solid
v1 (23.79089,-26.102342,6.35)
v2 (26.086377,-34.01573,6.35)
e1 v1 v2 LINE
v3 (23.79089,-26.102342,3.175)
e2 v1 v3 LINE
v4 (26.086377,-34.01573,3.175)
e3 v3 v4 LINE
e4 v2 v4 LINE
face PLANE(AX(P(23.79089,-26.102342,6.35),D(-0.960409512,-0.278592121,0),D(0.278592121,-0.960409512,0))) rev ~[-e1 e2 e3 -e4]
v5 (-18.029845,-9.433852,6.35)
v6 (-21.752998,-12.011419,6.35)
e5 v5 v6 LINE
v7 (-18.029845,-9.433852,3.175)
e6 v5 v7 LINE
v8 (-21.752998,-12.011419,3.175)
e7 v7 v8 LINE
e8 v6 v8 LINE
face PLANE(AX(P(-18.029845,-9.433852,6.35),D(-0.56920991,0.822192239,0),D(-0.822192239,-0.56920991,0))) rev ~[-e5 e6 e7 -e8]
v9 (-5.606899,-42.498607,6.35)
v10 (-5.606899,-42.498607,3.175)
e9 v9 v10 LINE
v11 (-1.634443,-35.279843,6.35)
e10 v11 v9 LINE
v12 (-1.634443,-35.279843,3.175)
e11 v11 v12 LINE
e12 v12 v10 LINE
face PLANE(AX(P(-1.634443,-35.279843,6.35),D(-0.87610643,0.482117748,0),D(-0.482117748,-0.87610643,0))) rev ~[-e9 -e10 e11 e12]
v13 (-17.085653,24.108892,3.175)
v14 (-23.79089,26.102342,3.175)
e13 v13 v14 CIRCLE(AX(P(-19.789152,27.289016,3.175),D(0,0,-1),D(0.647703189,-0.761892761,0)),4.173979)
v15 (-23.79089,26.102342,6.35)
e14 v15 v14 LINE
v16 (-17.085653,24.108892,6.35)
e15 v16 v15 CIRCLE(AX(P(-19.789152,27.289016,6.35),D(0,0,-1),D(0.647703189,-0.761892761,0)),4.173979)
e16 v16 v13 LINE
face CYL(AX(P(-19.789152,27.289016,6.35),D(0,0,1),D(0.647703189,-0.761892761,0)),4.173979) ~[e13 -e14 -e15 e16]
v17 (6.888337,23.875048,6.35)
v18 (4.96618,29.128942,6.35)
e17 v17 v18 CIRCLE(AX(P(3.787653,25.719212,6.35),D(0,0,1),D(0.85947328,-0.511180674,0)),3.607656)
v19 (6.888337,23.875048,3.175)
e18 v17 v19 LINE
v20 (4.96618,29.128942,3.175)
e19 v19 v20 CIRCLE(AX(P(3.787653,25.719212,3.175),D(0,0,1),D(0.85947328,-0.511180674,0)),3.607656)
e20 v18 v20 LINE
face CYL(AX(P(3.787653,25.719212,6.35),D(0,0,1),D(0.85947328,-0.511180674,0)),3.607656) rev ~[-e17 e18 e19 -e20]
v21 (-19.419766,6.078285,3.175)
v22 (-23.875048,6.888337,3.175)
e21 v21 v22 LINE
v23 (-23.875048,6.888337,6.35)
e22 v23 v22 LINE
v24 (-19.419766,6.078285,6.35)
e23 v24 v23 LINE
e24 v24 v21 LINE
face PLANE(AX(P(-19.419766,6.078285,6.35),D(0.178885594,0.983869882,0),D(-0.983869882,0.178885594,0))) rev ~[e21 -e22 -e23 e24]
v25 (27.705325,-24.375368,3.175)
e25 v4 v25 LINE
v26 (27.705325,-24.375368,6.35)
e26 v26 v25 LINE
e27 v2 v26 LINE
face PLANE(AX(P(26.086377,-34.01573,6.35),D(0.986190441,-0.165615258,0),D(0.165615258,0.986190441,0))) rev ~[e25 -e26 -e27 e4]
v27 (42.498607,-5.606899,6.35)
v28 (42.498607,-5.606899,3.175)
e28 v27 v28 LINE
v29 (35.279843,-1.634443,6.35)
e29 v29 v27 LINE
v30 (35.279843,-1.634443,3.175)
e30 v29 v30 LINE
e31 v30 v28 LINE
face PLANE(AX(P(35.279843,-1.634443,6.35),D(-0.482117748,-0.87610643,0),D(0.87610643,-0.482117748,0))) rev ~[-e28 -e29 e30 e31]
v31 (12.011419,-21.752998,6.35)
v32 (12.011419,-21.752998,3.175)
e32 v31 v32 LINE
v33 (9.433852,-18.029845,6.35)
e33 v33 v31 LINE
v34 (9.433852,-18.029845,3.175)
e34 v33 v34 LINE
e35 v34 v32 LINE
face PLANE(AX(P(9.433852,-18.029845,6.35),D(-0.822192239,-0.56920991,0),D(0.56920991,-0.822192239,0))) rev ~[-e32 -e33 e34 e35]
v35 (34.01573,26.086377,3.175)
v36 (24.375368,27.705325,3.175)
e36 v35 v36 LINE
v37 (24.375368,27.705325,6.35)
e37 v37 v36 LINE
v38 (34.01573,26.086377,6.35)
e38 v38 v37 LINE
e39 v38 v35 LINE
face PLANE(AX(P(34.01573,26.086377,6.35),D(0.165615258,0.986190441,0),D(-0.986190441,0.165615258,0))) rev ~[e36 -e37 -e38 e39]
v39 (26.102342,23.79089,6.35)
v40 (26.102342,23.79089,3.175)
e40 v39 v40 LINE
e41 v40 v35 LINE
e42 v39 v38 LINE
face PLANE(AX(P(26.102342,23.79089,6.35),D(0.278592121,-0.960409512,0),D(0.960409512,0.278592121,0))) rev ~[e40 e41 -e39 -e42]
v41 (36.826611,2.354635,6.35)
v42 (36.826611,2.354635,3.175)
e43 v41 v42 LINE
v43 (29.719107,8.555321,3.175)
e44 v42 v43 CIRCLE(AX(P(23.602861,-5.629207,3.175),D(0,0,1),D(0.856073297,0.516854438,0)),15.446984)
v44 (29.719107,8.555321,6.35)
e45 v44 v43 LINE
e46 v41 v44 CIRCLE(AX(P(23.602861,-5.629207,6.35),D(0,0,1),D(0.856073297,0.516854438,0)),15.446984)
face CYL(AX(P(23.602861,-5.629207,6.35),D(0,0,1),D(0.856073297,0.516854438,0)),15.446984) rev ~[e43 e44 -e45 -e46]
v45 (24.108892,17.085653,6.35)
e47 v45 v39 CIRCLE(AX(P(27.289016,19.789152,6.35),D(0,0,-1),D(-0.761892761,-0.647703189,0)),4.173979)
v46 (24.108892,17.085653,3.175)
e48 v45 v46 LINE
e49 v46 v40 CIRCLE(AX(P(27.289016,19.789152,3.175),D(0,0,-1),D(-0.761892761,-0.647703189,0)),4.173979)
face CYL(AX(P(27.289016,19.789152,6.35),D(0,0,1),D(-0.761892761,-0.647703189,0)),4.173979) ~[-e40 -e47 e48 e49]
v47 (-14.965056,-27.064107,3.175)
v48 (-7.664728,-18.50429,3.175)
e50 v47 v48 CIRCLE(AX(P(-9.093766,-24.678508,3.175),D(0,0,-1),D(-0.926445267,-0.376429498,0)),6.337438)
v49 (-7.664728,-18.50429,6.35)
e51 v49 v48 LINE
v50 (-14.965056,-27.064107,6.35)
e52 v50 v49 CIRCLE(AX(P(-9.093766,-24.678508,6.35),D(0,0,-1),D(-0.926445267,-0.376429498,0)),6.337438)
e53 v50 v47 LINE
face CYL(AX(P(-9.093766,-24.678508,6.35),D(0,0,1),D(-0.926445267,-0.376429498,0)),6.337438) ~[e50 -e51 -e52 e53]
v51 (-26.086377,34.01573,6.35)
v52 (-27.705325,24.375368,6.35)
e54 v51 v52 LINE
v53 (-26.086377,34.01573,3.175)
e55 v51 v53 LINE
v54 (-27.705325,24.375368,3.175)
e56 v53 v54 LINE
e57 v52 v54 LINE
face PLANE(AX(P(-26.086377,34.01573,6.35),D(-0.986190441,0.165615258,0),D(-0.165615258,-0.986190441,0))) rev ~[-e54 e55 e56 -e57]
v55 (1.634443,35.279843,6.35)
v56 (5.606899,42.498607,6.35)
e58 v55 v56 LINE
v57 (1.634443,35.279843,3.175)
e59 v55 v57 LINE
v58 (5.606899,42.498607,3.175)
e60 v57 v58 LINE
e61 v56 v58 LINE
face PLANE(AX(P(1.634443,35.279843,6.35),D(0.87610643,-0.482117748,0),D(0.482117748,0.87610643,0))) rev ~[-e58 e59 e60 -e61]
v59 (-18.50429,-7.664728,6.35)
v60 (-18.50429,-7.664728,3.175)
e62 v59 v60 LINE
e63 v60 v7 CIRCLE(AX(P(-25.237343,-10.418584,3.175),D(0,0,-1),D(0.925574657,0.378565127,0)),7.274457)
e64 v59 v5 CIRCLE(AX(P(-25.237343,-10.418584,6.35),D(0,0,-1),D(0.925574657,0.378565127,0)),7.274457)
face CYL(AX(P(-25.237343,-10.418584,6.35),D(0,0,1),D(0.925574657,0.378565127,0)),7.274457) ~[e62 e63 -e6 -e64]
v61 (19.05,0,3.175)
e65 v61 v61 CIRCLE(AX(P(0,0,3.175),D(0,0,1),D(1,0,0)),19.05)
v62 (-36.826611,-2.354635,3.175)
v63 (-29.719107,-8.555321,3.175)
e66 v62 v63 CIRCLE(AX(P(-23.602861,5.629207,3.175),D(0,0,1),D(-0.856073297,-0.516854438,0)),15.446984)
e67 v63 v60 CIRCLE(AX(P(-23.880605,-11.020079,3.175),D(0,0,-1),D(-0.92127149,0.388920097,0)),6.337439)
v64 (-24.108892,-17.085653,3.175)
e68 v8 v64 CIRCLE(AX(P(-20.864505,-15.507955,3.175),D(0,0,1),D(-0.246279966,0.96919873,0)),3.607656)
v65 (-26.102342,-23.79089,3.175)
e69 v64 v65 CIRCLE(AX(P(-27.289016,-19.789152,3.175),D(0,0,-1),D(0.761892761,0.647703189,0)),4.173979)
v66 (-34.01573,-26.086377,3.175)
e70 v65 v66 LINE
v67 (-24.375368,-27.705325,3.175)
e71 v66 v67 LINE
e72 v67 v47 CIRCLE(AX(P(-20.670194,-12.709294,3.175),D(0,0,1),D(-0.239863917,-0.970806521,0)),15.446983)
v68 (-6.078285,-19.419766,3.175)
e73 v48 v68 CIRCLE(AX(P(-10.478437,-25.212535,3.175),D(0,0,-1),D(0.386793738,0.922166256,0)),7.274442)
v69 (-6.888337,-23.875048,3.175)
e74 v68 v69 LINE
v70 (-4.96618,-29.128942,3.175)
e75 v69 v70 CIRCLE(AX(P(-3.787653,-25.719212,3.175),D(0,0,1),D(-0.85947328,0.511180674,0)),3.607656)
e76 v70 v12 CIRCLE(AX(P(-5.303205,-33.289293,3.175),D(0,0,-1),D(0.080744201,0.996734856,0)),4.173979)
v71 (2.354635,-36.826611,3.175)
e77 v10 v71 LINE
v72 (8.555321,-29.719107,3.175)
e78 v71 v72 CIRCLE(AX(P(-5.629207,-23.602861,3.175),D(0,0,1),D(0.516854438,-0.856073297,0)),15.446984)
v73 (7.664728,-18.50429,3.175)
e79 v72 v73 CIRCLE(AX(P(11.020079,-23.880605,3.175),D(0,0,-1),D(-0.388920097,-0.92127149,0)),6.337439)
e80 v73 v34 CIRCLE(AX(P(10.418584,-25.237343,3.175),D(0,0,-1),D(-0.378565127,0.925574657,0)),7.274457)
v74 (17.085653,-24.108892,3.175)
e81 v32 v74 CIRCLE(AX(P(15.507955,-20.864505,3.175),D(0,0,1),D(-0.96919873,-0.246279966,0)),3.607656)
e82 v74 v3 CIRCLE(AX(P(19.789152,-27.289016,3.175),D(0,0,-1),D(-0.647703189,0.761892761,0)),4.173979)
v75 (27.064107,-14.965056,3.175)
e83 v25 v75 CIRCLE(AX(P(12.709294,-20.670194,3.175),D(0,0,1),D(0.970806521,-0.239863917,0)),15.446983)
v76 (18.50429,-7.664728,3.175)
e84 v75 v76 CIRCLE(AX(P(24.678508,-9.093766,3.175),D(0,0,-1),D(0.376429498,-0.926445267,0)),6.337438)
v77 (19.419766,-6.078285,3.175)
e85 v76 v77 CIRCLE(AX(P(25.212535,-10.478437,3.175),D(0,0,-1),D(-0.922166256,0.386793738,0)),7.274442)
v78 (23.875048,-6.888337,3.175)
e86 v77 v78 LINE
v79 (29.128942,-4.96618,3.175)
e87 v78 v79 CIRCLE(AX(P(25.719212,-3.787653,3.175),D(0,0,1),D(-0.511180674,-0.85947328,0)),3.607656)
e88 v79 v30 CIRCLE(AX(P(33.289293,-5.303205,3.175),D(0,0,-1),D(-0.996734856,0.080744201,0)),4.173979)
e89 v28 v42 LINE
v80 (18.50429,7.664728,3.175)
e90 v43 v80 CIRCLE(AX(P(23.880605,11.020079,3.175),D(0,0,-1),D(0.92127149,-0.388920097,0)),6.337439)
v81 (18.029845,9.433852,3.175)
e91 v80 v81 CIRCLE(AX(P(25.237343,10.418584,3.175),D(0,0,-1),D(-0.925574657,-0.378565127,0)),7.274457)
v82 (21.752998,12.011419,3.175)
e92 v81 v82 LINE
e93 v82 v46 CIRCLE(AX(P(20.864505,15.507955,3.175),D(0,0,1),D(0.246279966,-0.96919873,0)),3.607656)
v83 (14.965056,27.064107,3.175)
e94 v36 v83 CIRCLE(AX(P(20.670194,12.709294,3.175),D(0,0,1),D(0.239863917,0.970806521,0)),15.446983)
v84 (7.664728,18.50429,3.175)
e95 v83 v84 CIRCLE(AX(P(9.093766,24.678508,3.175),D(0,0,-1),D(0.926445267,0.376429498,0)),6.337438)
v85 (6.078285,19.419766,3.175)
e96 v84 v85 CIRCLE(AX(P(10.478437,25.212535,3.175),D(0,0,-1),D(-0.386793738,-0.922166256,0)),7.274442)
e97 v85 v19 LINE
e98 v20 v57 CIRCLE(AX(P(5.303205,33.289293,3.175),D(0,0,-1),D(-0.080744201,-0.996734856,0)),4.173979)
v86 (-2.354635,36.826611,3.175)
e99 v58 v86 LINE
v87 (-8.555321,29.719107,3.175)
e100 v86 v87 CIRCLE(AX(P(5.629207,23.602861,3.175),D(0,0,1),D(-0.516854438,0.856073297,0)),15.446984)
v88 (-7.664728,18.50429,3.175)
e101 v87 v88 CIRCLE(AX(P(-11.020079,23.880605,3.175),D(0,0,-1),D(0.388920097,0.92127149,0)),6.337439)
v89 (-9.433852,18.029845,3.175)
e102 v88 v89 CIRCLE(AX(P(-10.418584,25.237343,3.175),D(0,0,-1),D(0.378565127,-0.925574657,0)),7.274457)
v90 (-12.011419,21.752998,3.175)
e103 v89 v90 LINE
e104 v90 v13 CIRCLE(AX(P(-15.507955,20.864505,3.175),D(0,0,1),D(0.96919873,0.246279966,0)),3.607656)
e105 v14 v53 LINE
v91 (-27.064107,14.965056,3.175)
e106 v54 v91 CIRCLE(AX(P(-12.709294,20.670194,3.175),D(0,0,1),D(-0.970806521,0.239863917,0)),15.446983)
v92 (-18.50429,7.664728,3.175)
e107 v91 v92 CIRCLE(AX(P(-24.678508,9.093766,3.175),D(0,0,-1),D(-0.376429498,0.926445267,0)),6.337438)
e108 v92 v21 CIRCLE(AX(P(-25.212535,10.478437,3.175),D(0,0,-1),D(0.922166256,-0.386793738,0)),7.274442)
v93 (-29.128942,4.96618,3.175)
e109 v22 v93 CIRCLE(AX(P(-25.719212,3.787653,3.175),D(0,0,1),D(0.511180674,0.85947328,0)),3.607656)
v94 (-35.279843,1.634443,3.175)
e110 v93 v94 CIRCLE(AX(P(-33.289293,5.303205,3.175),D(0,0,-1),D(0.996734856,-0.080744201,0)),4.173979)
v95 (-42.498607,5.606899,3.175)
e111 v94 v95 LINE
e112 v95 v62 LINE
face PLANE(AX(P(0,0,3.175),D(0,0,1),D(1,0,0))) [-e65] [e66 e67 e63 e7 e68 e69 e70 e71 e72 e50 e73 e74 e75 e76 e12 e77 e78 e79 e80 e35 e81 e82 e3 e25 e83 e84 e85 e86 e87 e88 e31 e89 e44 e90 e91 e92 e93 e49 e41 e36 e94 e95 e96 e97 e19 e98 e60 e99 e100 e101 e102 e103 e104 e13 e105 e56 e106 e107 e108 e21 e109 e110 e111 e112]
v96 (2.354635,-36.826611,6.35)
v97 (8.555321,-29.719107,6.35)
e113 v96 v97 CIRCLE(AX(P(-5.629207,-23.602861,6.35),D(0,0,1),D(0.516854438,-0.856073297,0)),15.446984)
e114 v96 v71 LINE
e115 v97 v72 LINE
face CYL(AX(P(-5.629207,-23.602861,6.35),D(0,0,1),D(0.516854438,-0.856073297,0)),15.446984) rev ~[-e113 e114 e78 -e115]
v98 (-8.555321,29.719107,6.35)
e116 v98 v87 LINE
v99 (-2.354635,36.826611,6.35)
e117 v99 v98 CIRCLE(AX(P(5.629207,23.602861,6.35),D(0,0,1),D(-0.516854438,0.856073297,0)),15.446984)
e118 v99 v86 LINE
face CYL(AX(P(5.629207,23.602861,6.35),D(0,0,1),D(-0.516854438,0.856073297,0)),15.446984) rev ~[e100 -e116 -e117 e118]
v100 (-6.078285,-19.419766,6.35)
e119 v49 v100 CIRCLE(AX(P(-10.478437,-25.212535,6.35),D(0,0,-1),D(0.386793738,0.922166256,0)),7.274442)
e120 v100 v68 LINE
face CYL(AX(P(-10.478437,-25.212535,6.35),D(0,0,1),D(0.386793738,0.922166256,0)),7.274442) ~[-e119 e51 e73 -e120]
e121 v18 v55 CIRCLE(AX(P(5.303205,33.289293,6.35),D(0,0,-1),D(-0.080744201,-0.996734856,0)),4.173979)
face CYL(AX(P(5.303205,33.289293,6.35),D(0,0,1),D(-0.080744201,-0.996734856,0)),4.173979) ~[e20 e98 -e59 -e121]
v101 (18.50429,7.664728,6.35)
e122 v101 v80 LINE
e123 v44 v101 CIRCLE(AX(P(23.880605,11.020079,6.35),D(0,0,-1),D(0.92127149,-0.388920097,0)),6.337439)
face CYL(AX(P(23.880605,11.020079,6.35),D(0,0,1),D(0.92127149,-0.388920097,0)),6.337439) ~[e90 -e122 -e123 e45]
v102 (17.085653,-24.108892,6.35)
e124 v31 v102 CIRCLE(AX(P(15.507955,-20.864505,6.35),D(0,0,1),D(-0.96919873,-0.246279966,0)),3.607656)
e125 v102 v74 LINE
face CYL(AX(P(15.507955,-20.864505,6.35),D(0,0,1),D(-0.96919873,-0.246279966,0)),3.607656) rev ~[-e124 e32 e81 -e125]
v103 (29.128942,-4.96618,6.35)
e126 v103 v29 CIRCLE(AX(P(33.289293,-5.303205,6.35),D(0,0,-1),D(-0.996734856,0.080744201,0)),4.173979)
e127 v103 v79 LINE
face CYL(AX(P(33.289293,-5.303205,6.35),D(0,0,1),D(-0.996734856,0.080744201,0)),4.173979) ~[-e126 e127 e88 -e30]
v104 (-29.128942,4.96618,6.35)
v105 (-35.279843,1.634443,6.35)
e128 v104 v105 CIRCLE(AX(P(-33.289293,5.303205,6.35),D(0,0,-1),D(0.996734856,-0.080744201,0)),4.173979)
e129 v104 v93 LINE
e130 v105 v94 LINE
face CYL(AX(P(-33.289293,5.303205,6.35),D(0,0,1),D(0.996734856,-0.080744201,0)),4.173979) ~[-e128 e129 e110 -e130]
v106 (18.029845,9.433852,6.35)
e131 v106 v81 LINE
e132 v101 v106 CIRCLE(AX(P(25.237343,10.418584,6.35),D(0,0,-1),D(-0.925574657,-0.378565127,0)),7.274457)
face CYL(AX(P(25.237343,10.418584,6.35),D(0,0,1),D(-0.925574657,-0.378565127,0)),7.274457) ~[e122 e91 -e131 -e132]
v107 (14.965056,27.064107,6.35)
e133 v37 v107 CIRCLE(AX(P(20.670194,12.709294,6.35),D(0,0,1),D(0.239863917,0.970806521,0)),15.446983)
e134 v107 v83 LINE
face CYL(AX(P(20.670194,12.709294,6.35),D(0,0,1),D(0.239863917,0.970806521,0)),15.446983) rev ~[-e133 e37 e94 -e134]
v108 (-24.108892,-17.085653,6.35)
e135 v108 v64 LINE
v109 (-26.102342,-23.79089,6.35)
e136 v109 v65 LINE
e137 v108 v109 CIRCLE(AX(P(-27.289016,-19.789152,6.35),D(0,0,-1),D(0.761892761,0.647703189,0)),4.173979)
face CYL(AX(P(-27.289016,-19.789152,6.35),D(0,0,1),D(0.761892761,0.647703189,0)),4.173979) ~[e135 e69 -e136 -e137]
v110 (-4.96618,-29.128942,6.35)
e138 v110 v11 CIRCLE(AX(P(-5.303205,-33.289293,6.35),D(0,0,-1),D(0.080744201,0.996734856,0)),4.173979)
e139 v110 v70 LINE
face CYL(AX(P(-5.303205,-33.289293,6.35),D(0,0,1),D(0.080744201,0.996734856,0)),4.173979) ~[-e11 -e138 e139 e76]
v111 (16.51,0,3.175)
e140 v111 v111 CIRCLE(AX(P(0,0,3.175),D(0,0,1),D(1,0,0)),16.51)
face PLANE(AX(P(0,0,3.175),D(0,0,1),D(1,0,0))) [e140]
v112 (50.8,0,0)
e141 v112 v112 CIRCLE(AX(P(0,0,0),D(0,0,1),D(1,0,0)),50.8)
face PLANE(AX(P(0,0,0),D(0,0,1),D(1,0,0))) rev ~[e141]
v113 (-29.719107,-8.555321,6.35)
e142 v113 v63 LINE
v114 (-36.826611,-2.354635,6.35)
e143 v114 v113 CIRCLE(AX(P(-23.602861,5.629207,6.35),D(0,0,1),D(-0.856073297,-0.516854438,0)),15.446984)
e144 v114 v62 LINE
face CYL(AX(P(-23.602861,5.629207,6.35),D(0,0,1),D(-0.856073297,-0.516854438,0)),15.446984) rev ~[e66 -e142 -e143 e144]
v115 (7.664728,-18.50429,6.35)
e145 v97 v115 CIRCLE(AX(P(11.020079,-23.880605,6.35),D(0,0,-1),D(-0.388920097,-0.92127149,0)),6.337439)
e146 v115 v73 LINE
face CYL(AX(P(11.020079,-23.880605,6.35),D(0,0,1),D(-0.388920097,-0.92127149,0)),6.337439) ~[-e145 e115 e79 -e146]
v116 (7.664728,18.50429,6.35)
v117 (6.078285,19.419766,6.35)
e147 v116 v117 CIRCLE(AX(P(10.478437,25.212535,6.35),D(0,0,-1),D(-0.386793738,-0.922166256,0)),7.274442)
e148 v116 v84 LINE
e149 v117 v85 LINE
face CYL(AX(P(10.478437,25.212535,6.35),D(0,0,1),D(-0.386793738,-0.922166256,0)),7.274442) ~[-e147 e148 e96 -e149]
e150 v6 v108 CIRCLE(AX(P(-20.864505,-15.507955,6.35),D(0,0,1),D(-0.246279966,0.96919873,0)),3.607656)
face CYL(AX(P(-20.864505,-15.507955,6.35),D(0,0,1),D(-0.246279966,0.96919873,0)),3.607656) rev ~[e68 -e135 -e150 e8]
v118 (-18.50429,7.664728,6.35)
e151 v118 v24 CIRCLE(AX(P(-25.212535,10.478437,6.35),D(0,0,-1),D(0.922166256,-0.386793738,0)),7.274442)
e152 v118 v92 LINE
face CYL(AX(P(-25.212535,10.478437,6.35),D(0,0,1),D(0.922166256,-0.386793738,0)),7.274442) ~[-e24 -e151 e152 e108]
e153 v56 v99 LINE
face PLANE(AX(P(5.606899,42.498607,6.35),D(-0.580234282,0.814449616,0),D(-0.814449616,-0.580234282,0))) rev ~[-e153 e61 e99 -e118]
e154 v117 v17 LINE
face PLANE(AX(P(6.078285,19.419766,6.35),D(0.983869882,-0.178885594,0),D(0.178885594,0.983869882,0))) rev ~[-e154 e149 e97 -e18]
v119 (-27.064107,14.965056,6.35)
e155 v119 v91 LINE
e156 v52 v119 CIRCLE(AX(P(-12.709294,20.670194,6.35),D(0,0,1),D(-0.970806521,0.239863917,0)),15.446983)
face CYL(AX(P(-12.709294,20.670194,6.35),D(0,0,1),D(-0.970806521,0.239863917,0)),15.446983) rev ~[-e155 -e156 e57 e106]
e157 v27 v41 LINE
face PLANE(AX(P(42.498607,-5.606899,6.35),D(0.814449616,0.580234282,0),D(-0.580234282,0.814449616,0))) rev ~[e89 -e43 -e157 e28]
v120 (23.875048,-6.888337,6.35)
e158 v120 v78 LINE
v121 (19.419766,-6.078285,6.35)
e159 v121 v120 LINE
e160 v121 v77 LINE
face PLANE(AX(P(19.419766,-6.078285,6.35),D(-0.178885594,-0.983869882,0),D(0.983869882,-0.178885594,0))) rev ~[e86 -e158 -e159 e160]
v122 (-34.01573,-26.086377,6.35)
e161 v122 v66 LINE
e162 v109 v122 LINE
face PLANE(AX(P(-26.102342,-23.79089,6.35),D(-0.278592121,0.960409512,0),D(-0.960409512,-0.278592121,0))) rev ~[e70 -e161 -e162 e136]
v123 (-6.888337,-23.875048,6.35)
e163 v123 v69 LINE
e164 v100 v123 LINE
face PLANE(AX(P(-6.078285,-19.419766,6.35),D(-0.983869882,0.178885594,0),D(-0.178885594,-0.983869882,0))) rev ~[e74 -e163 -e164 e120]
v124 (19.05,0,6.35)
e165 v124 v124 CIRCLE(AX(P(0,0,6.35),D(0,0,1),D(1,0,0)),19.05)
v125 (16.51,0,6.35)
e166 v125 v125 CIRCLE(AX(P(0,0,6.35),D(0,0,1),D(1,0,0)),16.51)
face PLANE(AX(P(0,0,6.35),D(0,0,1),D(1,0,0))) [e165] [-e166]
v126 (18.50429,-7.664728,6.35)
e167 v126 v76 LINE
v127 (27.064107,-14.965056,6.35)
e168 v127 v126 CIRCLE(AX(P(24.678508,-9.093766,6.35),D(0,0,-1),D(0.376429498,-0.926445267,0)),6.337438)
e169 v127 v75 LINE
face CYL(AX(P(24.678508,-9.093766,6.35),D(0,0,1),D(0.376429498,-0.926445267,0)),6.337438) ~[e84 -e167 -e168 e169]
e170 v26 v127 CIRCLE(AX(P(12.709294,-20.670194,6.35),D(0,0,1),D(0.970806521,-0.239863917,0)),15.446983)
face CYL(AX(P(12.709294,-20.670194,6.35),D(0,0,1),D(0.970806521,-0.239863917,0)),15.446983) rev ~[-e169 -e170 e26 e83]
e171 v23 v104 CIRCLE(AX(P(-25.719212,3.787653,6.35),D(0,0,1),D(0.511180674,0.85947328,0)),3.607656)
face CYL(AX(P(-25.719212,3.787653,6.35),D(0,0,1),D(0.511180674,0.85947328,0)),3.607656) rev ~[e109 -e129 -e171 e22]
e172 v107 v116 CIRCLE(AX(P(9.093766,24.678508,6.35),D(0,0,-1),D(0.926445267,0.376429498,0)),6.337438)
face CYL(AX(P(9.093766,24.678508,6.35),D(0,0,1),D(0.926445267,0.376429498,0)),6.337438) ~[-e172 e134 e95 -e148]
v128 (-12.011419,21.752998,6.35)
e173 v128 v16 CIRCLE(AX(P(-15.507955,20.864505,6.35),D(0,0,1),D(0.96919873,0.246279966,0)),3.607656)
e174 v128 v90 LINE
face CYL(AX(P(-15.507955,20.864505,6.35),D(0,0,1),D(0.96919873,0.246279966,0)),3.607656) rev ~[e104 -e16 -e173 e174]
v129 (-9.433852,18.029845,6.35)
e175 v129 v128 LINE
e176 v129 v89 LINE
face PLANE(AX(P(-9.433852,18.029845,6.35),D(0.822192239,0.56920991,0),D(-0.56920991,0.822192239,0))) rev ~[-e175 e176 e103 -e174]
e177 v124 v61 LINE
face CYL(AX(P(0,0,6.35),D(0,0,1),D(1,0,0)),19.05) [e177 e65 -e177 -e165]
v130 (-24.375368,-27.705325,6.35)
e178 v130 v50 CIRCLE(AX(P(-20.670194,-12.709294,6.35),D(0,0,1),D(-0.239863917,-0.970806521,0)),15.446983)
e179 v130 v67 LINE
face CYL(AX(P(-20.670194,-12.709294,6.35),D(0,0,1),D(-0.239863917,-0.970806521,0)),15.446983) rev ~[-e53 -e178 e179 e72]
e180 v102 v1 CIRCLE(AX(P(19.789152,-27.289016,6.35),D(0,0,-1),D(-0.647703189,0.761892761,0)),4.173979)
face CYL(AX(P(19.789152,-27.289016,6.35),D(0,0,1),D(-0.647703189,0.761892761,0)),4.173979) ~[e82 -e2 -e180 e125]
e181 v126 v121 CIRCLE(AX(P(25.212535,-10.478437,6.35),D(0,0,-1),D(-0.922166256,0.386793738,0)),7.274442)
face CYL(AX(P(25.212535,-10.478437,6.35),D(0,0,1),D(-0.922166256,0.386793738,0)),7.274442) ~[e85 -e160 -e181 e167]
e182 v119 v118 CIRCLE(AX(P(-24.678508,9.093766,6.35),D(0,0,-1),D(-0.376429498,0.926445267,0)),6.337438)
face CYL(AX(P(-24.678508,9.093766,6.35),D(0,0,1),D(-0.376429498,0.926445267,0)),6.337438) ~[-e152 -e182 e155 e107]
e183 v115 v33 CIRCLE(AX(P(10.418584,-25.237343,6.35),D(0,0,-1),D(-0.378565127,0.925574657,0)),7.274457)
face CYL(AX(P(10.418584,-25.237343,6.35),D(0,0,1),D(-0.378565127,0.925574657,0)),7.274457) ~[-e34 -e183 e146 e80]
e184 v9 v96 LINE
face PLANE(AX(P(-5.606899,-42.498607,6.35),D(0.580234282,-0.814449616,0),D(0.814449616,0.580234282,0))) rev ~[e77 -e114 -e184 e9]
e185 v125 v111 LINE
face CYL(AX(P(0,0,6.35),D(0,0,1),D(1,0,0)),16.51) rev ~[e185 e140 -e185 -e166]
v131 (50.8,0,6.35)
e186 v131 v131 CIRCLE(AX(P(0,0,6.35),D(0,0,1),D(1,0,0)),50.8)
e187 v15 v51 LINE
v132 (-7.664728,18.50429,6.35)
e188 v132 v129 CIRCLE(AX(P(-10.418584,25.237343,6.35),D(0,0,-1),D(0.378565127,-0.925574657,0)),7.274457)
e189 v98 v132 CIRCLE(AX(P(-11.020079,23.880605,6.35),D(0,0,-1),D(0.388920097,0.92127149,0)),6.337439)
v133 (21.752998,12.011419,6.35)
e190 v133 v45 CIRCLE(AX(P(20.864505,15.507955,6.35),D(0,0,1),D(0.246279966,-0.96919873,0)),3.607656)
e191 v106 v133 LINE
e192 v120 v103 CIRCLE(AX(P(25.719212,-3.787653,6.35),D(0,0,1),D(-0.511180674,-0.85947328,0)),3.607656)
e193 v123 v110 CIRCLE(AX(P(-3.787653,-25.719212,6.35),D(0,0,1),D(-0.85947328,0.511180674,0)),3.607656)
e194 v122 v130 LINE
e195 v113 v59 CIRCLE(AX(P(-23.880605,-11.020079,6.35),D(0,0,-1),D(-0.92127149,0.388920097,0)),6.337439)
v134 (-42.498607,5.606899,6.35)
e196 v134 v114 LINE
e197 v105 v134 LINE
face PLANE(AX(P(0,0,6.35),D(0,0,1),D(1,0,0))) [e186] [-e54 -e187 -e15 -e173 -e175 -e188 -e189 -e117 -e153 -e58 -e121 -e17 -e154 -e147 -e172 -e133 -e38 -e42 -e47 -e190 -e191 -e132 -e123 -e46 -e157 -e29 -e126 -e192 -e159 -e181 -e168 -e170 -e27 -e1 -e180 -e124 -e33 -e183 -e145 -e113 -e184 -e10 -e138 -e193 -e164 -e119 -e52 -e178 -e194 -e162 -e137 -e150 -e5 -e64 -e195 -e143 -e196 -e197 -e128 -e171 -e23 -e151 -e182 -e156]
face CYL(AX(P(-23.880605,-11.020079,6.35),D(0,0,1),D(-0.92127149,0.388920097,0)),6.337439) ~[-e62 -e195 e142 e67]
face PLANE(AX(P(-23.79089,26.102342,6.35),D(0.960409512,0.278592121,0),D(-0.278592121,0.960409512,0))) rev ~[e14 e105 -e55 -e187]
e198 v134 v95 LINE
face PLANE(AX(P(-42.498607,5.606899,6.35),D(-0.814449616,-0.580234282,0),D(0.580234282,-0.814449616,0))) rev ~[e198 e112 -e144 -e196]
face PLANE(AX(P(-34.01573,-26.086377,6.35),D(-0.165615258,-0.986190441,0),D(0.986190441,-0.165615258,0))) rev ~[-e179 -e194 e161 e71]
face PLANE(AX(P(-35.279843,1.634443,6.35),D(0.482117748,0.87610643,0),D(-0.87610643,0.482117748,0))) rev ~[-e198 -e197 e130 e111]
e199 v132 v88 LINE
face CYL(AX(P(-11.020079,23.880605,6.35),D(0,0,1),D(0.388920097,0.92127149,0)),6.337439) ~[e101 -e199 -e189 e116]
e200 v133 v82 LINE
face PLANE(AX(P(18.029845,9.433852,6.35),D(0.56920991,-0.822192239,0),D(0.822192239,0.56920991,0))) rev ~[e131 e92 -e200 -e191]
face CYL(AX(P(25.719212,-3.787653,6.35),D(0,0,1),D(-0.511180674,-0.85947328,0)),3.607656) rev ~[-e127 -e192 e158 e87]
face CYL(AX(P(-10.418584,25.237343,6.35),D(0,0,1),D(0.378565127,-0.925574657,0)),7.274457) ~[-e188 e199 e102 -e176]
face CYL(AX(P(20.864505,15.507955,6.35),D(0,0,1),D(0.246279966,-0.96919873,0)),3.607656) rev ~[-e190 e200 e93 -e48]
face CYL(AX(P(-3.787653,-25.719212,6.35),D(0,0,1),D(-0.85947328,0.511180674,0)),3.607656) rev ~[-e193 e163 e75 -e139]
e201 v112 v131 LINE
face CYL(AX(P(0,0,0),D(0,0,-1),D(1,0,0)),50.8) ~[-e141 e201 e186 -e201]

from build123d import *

# Parameters (mm, degrees)
F0_R     = 50.8
F1_DEPTH = 6.35
F2_R     = 19.05
F2_R_2   = 16.51
F3_DEPTH = 3.175


with BuildPart() as f1:
    # F0 (on Top) → F1 (new body)
    with BuildSketch(Plane.XY):
        Circle(F0_R)
    extrude(amount=F1_DEPTH)

    # F2 (on face) → F3 (cut)
    with BuildSketch(Plane.XY.offset(6.35)):
        with BuildLine():
            ThreePointArc((-27.064107, 14.965056), (-20.566075, 13.915697), (-18.50429, 7.664728))
            ThreePointArc((-18.50429, 7.664728), (-18.911897, 6.842578), (-19.419766, 6.078285))
            Line((-19.419766, 6.078285), (-23.875048, 6.888337))
            ThreePointArc((-23.875048, 6.888337), (-26.958737, 7.175685), (-29.128942, 4.96618))
            ThreePointArc((-29.128942, 4.96618), (-31.301297, 1.633058), (-35.279843, 1.634443))
            Line((-35.279843, 1.634443), (-42.498607, 5.606899))
            Line((-42.498607, 5.606899), (-36.826611, -2.354635))
            ThreePointArc((-36.826611, -2.354635), (-33.757711, -6.010738), (-29.719107, -8.555321))
            ThreePointArc((-29.719107, -8.555321), (-24.382295, -4.702528), (-18.50429, -7.664728))
            ThreePointArc((-18.50429, -7.664728), (-18.211164, -8.534298), (-18.029845, -9.433852))
            Line((-18.029845, -9.433852), (-21.752998, -12.011419))
            ThreePointArc((-21.752998, -12.011419), (-24.136681, -13.98873), (-24.108892, -17.085653))
            ThreePointArc((-24.108892, -17.085653), (-23.288106, -20.978613), (-26.102342, -23.79089))
            Line((-26.102342, -23.79089), (-34.01573, -26.086377))
            Line((-34.01573, -26.086377), (-24.375368, -27.705325))
            ThreePointArc((-24.375368, -27.705325), (-19.620073, -28.12054), (-14.965056, -27.064107))
            ThreePointArc((-14.965056, -27.064107), (-13.915697, -20.566075), (-7.664728, -18.50429))
            ThreePointArc((-7.664728, -18.50429), (-6.842578, -18.911897), (-6.078285, -19.419766))
            Line((-6.078285, -19.419766), (-6.888337, -23.875048))
            ThreePointArc((-6.888337, -23.875048), (-7.175685, -26.958737), (-4.96618, -29.128942))
            ThreePointArc((-4.96618, -29.128942), (-1.633058, -31.301297), (-1.634443, -35.279843))
            Line((-1.634443, -35.279843), (-5.606899, -42.498607))
            Line((-5.606899, -42.498607), (2.354635, -36.826611))
            ThreePointArc((2.354635, -36.826611), (6.010738, -33.757711), (8.555321, -29.719107))
            ThreePointArc((8.555321, -29.719107), (4.702528, -24.382295), (7.664728, -18.50429))
            ThreePointArc((7.664728, -18.50429), (8.534298, -18.211164), (9.433852, -18.029845))
            Line((9.433852, -18.029845), (12.011419, -21.752998))
            ThreePointArc((12.011419, -21.752998), (13.98873, -24.136681), (17.085653, -24.108892))
            ThreePointArc((17.085653, -24.108892), (20.978613, -23.288106), (23.79089, -26.102342))
            Line((23.79089, -26.102342), (26.086377, -34.01573))
            Line((26.086377, -34.01573), (27.705325, -24.375368))
            ThreePointArc((27.705325, -24.375368), (28.12054, -19.620073), (27.064107, -14.965056))
            ThreePointArc((27.064107, -14.965056), (20.566075, -13.915697), (18.50429, -7.664728))
            ThreePointArc((18.50429, -7.664728), (18.911897, -6.842578), (19.419766, -6.078285))
            Line((19.419766, -6.078285), (23.875048, -6.888337))
            ThreePointArc((23.875048, -6.888337), (26.958737, -7.175685), (29.128942, -4.96618))
            ThreePointArc((29.128942, -4.96618), (31.301297, -1.633058), (35.279843, -1.634443))
            Line((35.279843, -1.634443), (42.498607, -5.606899))
            Line((42.498607, -5.606899), (36.826611, 2.354635))
            ThreePointArc((36.826611, 2.354635), (33.757711, 6.010738), (29.719107, 8.555321))
            ThreePointArc((29.719107, 8.555321), (24.382295, 4.702528), (18.50429, 7.664728))
            ThreePointArc((18.50429, 7.664728), (18.211164, 8.534298), (18.029845, 9.433852))
            Line((18.029845, 9.433852), (21.752998, 12.011419))
            ThreePointArc((21.752998, 12.011419), (24.136681, 13.98873), (24.108892, 17.085653))
            ThreePointArc((24.108892, 17.085653), (23.288106, 20.978613), (26.102342, 23.79089))
            Line((26.102342, 23.79089), (34.01573, 26.086377))
            Line((34.01573, 26.086377), (24.375368, 27.705325))
            ThreePointArc((24.375368, 27.705325), (19.620073, 28.12054), (14.965056, 27.064107))
            ThreePointArc((14.965056, 27.064107), (13.915697, 20.566075), (7.664728, 18.50429))
            ThreePointArc((7.664728, 18.50429), (6.842578, 18.911897), (6.078285, 19.419766))
            Line((6.078285, 19.419766), (6.888337, 23.875048))
            ThreePointArc((6.888337, 23.875048), (7.175685, 26.958737), (4.96618, 29.128942))
            ThreePointArc((4.96618, 29.128942), (1.633058, 31.301297), (1.634443, 35.279843))
            Line((1.634443, 35.279843), (5.606899, 42.498607))
            Line((5.606899, 42.498607), (-2.354635, 36.826611))
            ThreePointArc((-2.354635, 36.826611), (-6.010738, 33.757711), (-8.555321, 29.719107))
            ThreePointArc((-8.555321, 29.719107), (-4.702528, 24.382295), (-7.664728, 18.50429))
            ThreePointArc((-7.664728, 18.50429), (-8.534298, 18.211164), (-9.433852, 18.029845))
            Line((-9.433852, 18.029845), (-12.011419, 21.752998))
            ThreePointArc((-12.011419, 21.752998), (-13.98873, 24.136681), (-17.085653, 24.108892))
            ThreePointArc((-17.085653, 24.108892), (-20.978613, 23.288106), (-23.79089, 26.102342))
            Line((-23.79089, 26.102342), (-26.086377, 34.01573))
            Line((-26.086377, 34.01573), (-27.705325, 24.375368))
            ThreePointArc((-27.705325, 24.375368), (-28.12054, 19.620073), (-27.064107, 14.965056))
        make_face()
        Circle(F2_R, mode=Mode.SUBTRACT)
        Circle(F2_R_2)
    extrude(amount=-F3_DEPTH, mode=Mode.SUBTRACT)


solid = f1.part
